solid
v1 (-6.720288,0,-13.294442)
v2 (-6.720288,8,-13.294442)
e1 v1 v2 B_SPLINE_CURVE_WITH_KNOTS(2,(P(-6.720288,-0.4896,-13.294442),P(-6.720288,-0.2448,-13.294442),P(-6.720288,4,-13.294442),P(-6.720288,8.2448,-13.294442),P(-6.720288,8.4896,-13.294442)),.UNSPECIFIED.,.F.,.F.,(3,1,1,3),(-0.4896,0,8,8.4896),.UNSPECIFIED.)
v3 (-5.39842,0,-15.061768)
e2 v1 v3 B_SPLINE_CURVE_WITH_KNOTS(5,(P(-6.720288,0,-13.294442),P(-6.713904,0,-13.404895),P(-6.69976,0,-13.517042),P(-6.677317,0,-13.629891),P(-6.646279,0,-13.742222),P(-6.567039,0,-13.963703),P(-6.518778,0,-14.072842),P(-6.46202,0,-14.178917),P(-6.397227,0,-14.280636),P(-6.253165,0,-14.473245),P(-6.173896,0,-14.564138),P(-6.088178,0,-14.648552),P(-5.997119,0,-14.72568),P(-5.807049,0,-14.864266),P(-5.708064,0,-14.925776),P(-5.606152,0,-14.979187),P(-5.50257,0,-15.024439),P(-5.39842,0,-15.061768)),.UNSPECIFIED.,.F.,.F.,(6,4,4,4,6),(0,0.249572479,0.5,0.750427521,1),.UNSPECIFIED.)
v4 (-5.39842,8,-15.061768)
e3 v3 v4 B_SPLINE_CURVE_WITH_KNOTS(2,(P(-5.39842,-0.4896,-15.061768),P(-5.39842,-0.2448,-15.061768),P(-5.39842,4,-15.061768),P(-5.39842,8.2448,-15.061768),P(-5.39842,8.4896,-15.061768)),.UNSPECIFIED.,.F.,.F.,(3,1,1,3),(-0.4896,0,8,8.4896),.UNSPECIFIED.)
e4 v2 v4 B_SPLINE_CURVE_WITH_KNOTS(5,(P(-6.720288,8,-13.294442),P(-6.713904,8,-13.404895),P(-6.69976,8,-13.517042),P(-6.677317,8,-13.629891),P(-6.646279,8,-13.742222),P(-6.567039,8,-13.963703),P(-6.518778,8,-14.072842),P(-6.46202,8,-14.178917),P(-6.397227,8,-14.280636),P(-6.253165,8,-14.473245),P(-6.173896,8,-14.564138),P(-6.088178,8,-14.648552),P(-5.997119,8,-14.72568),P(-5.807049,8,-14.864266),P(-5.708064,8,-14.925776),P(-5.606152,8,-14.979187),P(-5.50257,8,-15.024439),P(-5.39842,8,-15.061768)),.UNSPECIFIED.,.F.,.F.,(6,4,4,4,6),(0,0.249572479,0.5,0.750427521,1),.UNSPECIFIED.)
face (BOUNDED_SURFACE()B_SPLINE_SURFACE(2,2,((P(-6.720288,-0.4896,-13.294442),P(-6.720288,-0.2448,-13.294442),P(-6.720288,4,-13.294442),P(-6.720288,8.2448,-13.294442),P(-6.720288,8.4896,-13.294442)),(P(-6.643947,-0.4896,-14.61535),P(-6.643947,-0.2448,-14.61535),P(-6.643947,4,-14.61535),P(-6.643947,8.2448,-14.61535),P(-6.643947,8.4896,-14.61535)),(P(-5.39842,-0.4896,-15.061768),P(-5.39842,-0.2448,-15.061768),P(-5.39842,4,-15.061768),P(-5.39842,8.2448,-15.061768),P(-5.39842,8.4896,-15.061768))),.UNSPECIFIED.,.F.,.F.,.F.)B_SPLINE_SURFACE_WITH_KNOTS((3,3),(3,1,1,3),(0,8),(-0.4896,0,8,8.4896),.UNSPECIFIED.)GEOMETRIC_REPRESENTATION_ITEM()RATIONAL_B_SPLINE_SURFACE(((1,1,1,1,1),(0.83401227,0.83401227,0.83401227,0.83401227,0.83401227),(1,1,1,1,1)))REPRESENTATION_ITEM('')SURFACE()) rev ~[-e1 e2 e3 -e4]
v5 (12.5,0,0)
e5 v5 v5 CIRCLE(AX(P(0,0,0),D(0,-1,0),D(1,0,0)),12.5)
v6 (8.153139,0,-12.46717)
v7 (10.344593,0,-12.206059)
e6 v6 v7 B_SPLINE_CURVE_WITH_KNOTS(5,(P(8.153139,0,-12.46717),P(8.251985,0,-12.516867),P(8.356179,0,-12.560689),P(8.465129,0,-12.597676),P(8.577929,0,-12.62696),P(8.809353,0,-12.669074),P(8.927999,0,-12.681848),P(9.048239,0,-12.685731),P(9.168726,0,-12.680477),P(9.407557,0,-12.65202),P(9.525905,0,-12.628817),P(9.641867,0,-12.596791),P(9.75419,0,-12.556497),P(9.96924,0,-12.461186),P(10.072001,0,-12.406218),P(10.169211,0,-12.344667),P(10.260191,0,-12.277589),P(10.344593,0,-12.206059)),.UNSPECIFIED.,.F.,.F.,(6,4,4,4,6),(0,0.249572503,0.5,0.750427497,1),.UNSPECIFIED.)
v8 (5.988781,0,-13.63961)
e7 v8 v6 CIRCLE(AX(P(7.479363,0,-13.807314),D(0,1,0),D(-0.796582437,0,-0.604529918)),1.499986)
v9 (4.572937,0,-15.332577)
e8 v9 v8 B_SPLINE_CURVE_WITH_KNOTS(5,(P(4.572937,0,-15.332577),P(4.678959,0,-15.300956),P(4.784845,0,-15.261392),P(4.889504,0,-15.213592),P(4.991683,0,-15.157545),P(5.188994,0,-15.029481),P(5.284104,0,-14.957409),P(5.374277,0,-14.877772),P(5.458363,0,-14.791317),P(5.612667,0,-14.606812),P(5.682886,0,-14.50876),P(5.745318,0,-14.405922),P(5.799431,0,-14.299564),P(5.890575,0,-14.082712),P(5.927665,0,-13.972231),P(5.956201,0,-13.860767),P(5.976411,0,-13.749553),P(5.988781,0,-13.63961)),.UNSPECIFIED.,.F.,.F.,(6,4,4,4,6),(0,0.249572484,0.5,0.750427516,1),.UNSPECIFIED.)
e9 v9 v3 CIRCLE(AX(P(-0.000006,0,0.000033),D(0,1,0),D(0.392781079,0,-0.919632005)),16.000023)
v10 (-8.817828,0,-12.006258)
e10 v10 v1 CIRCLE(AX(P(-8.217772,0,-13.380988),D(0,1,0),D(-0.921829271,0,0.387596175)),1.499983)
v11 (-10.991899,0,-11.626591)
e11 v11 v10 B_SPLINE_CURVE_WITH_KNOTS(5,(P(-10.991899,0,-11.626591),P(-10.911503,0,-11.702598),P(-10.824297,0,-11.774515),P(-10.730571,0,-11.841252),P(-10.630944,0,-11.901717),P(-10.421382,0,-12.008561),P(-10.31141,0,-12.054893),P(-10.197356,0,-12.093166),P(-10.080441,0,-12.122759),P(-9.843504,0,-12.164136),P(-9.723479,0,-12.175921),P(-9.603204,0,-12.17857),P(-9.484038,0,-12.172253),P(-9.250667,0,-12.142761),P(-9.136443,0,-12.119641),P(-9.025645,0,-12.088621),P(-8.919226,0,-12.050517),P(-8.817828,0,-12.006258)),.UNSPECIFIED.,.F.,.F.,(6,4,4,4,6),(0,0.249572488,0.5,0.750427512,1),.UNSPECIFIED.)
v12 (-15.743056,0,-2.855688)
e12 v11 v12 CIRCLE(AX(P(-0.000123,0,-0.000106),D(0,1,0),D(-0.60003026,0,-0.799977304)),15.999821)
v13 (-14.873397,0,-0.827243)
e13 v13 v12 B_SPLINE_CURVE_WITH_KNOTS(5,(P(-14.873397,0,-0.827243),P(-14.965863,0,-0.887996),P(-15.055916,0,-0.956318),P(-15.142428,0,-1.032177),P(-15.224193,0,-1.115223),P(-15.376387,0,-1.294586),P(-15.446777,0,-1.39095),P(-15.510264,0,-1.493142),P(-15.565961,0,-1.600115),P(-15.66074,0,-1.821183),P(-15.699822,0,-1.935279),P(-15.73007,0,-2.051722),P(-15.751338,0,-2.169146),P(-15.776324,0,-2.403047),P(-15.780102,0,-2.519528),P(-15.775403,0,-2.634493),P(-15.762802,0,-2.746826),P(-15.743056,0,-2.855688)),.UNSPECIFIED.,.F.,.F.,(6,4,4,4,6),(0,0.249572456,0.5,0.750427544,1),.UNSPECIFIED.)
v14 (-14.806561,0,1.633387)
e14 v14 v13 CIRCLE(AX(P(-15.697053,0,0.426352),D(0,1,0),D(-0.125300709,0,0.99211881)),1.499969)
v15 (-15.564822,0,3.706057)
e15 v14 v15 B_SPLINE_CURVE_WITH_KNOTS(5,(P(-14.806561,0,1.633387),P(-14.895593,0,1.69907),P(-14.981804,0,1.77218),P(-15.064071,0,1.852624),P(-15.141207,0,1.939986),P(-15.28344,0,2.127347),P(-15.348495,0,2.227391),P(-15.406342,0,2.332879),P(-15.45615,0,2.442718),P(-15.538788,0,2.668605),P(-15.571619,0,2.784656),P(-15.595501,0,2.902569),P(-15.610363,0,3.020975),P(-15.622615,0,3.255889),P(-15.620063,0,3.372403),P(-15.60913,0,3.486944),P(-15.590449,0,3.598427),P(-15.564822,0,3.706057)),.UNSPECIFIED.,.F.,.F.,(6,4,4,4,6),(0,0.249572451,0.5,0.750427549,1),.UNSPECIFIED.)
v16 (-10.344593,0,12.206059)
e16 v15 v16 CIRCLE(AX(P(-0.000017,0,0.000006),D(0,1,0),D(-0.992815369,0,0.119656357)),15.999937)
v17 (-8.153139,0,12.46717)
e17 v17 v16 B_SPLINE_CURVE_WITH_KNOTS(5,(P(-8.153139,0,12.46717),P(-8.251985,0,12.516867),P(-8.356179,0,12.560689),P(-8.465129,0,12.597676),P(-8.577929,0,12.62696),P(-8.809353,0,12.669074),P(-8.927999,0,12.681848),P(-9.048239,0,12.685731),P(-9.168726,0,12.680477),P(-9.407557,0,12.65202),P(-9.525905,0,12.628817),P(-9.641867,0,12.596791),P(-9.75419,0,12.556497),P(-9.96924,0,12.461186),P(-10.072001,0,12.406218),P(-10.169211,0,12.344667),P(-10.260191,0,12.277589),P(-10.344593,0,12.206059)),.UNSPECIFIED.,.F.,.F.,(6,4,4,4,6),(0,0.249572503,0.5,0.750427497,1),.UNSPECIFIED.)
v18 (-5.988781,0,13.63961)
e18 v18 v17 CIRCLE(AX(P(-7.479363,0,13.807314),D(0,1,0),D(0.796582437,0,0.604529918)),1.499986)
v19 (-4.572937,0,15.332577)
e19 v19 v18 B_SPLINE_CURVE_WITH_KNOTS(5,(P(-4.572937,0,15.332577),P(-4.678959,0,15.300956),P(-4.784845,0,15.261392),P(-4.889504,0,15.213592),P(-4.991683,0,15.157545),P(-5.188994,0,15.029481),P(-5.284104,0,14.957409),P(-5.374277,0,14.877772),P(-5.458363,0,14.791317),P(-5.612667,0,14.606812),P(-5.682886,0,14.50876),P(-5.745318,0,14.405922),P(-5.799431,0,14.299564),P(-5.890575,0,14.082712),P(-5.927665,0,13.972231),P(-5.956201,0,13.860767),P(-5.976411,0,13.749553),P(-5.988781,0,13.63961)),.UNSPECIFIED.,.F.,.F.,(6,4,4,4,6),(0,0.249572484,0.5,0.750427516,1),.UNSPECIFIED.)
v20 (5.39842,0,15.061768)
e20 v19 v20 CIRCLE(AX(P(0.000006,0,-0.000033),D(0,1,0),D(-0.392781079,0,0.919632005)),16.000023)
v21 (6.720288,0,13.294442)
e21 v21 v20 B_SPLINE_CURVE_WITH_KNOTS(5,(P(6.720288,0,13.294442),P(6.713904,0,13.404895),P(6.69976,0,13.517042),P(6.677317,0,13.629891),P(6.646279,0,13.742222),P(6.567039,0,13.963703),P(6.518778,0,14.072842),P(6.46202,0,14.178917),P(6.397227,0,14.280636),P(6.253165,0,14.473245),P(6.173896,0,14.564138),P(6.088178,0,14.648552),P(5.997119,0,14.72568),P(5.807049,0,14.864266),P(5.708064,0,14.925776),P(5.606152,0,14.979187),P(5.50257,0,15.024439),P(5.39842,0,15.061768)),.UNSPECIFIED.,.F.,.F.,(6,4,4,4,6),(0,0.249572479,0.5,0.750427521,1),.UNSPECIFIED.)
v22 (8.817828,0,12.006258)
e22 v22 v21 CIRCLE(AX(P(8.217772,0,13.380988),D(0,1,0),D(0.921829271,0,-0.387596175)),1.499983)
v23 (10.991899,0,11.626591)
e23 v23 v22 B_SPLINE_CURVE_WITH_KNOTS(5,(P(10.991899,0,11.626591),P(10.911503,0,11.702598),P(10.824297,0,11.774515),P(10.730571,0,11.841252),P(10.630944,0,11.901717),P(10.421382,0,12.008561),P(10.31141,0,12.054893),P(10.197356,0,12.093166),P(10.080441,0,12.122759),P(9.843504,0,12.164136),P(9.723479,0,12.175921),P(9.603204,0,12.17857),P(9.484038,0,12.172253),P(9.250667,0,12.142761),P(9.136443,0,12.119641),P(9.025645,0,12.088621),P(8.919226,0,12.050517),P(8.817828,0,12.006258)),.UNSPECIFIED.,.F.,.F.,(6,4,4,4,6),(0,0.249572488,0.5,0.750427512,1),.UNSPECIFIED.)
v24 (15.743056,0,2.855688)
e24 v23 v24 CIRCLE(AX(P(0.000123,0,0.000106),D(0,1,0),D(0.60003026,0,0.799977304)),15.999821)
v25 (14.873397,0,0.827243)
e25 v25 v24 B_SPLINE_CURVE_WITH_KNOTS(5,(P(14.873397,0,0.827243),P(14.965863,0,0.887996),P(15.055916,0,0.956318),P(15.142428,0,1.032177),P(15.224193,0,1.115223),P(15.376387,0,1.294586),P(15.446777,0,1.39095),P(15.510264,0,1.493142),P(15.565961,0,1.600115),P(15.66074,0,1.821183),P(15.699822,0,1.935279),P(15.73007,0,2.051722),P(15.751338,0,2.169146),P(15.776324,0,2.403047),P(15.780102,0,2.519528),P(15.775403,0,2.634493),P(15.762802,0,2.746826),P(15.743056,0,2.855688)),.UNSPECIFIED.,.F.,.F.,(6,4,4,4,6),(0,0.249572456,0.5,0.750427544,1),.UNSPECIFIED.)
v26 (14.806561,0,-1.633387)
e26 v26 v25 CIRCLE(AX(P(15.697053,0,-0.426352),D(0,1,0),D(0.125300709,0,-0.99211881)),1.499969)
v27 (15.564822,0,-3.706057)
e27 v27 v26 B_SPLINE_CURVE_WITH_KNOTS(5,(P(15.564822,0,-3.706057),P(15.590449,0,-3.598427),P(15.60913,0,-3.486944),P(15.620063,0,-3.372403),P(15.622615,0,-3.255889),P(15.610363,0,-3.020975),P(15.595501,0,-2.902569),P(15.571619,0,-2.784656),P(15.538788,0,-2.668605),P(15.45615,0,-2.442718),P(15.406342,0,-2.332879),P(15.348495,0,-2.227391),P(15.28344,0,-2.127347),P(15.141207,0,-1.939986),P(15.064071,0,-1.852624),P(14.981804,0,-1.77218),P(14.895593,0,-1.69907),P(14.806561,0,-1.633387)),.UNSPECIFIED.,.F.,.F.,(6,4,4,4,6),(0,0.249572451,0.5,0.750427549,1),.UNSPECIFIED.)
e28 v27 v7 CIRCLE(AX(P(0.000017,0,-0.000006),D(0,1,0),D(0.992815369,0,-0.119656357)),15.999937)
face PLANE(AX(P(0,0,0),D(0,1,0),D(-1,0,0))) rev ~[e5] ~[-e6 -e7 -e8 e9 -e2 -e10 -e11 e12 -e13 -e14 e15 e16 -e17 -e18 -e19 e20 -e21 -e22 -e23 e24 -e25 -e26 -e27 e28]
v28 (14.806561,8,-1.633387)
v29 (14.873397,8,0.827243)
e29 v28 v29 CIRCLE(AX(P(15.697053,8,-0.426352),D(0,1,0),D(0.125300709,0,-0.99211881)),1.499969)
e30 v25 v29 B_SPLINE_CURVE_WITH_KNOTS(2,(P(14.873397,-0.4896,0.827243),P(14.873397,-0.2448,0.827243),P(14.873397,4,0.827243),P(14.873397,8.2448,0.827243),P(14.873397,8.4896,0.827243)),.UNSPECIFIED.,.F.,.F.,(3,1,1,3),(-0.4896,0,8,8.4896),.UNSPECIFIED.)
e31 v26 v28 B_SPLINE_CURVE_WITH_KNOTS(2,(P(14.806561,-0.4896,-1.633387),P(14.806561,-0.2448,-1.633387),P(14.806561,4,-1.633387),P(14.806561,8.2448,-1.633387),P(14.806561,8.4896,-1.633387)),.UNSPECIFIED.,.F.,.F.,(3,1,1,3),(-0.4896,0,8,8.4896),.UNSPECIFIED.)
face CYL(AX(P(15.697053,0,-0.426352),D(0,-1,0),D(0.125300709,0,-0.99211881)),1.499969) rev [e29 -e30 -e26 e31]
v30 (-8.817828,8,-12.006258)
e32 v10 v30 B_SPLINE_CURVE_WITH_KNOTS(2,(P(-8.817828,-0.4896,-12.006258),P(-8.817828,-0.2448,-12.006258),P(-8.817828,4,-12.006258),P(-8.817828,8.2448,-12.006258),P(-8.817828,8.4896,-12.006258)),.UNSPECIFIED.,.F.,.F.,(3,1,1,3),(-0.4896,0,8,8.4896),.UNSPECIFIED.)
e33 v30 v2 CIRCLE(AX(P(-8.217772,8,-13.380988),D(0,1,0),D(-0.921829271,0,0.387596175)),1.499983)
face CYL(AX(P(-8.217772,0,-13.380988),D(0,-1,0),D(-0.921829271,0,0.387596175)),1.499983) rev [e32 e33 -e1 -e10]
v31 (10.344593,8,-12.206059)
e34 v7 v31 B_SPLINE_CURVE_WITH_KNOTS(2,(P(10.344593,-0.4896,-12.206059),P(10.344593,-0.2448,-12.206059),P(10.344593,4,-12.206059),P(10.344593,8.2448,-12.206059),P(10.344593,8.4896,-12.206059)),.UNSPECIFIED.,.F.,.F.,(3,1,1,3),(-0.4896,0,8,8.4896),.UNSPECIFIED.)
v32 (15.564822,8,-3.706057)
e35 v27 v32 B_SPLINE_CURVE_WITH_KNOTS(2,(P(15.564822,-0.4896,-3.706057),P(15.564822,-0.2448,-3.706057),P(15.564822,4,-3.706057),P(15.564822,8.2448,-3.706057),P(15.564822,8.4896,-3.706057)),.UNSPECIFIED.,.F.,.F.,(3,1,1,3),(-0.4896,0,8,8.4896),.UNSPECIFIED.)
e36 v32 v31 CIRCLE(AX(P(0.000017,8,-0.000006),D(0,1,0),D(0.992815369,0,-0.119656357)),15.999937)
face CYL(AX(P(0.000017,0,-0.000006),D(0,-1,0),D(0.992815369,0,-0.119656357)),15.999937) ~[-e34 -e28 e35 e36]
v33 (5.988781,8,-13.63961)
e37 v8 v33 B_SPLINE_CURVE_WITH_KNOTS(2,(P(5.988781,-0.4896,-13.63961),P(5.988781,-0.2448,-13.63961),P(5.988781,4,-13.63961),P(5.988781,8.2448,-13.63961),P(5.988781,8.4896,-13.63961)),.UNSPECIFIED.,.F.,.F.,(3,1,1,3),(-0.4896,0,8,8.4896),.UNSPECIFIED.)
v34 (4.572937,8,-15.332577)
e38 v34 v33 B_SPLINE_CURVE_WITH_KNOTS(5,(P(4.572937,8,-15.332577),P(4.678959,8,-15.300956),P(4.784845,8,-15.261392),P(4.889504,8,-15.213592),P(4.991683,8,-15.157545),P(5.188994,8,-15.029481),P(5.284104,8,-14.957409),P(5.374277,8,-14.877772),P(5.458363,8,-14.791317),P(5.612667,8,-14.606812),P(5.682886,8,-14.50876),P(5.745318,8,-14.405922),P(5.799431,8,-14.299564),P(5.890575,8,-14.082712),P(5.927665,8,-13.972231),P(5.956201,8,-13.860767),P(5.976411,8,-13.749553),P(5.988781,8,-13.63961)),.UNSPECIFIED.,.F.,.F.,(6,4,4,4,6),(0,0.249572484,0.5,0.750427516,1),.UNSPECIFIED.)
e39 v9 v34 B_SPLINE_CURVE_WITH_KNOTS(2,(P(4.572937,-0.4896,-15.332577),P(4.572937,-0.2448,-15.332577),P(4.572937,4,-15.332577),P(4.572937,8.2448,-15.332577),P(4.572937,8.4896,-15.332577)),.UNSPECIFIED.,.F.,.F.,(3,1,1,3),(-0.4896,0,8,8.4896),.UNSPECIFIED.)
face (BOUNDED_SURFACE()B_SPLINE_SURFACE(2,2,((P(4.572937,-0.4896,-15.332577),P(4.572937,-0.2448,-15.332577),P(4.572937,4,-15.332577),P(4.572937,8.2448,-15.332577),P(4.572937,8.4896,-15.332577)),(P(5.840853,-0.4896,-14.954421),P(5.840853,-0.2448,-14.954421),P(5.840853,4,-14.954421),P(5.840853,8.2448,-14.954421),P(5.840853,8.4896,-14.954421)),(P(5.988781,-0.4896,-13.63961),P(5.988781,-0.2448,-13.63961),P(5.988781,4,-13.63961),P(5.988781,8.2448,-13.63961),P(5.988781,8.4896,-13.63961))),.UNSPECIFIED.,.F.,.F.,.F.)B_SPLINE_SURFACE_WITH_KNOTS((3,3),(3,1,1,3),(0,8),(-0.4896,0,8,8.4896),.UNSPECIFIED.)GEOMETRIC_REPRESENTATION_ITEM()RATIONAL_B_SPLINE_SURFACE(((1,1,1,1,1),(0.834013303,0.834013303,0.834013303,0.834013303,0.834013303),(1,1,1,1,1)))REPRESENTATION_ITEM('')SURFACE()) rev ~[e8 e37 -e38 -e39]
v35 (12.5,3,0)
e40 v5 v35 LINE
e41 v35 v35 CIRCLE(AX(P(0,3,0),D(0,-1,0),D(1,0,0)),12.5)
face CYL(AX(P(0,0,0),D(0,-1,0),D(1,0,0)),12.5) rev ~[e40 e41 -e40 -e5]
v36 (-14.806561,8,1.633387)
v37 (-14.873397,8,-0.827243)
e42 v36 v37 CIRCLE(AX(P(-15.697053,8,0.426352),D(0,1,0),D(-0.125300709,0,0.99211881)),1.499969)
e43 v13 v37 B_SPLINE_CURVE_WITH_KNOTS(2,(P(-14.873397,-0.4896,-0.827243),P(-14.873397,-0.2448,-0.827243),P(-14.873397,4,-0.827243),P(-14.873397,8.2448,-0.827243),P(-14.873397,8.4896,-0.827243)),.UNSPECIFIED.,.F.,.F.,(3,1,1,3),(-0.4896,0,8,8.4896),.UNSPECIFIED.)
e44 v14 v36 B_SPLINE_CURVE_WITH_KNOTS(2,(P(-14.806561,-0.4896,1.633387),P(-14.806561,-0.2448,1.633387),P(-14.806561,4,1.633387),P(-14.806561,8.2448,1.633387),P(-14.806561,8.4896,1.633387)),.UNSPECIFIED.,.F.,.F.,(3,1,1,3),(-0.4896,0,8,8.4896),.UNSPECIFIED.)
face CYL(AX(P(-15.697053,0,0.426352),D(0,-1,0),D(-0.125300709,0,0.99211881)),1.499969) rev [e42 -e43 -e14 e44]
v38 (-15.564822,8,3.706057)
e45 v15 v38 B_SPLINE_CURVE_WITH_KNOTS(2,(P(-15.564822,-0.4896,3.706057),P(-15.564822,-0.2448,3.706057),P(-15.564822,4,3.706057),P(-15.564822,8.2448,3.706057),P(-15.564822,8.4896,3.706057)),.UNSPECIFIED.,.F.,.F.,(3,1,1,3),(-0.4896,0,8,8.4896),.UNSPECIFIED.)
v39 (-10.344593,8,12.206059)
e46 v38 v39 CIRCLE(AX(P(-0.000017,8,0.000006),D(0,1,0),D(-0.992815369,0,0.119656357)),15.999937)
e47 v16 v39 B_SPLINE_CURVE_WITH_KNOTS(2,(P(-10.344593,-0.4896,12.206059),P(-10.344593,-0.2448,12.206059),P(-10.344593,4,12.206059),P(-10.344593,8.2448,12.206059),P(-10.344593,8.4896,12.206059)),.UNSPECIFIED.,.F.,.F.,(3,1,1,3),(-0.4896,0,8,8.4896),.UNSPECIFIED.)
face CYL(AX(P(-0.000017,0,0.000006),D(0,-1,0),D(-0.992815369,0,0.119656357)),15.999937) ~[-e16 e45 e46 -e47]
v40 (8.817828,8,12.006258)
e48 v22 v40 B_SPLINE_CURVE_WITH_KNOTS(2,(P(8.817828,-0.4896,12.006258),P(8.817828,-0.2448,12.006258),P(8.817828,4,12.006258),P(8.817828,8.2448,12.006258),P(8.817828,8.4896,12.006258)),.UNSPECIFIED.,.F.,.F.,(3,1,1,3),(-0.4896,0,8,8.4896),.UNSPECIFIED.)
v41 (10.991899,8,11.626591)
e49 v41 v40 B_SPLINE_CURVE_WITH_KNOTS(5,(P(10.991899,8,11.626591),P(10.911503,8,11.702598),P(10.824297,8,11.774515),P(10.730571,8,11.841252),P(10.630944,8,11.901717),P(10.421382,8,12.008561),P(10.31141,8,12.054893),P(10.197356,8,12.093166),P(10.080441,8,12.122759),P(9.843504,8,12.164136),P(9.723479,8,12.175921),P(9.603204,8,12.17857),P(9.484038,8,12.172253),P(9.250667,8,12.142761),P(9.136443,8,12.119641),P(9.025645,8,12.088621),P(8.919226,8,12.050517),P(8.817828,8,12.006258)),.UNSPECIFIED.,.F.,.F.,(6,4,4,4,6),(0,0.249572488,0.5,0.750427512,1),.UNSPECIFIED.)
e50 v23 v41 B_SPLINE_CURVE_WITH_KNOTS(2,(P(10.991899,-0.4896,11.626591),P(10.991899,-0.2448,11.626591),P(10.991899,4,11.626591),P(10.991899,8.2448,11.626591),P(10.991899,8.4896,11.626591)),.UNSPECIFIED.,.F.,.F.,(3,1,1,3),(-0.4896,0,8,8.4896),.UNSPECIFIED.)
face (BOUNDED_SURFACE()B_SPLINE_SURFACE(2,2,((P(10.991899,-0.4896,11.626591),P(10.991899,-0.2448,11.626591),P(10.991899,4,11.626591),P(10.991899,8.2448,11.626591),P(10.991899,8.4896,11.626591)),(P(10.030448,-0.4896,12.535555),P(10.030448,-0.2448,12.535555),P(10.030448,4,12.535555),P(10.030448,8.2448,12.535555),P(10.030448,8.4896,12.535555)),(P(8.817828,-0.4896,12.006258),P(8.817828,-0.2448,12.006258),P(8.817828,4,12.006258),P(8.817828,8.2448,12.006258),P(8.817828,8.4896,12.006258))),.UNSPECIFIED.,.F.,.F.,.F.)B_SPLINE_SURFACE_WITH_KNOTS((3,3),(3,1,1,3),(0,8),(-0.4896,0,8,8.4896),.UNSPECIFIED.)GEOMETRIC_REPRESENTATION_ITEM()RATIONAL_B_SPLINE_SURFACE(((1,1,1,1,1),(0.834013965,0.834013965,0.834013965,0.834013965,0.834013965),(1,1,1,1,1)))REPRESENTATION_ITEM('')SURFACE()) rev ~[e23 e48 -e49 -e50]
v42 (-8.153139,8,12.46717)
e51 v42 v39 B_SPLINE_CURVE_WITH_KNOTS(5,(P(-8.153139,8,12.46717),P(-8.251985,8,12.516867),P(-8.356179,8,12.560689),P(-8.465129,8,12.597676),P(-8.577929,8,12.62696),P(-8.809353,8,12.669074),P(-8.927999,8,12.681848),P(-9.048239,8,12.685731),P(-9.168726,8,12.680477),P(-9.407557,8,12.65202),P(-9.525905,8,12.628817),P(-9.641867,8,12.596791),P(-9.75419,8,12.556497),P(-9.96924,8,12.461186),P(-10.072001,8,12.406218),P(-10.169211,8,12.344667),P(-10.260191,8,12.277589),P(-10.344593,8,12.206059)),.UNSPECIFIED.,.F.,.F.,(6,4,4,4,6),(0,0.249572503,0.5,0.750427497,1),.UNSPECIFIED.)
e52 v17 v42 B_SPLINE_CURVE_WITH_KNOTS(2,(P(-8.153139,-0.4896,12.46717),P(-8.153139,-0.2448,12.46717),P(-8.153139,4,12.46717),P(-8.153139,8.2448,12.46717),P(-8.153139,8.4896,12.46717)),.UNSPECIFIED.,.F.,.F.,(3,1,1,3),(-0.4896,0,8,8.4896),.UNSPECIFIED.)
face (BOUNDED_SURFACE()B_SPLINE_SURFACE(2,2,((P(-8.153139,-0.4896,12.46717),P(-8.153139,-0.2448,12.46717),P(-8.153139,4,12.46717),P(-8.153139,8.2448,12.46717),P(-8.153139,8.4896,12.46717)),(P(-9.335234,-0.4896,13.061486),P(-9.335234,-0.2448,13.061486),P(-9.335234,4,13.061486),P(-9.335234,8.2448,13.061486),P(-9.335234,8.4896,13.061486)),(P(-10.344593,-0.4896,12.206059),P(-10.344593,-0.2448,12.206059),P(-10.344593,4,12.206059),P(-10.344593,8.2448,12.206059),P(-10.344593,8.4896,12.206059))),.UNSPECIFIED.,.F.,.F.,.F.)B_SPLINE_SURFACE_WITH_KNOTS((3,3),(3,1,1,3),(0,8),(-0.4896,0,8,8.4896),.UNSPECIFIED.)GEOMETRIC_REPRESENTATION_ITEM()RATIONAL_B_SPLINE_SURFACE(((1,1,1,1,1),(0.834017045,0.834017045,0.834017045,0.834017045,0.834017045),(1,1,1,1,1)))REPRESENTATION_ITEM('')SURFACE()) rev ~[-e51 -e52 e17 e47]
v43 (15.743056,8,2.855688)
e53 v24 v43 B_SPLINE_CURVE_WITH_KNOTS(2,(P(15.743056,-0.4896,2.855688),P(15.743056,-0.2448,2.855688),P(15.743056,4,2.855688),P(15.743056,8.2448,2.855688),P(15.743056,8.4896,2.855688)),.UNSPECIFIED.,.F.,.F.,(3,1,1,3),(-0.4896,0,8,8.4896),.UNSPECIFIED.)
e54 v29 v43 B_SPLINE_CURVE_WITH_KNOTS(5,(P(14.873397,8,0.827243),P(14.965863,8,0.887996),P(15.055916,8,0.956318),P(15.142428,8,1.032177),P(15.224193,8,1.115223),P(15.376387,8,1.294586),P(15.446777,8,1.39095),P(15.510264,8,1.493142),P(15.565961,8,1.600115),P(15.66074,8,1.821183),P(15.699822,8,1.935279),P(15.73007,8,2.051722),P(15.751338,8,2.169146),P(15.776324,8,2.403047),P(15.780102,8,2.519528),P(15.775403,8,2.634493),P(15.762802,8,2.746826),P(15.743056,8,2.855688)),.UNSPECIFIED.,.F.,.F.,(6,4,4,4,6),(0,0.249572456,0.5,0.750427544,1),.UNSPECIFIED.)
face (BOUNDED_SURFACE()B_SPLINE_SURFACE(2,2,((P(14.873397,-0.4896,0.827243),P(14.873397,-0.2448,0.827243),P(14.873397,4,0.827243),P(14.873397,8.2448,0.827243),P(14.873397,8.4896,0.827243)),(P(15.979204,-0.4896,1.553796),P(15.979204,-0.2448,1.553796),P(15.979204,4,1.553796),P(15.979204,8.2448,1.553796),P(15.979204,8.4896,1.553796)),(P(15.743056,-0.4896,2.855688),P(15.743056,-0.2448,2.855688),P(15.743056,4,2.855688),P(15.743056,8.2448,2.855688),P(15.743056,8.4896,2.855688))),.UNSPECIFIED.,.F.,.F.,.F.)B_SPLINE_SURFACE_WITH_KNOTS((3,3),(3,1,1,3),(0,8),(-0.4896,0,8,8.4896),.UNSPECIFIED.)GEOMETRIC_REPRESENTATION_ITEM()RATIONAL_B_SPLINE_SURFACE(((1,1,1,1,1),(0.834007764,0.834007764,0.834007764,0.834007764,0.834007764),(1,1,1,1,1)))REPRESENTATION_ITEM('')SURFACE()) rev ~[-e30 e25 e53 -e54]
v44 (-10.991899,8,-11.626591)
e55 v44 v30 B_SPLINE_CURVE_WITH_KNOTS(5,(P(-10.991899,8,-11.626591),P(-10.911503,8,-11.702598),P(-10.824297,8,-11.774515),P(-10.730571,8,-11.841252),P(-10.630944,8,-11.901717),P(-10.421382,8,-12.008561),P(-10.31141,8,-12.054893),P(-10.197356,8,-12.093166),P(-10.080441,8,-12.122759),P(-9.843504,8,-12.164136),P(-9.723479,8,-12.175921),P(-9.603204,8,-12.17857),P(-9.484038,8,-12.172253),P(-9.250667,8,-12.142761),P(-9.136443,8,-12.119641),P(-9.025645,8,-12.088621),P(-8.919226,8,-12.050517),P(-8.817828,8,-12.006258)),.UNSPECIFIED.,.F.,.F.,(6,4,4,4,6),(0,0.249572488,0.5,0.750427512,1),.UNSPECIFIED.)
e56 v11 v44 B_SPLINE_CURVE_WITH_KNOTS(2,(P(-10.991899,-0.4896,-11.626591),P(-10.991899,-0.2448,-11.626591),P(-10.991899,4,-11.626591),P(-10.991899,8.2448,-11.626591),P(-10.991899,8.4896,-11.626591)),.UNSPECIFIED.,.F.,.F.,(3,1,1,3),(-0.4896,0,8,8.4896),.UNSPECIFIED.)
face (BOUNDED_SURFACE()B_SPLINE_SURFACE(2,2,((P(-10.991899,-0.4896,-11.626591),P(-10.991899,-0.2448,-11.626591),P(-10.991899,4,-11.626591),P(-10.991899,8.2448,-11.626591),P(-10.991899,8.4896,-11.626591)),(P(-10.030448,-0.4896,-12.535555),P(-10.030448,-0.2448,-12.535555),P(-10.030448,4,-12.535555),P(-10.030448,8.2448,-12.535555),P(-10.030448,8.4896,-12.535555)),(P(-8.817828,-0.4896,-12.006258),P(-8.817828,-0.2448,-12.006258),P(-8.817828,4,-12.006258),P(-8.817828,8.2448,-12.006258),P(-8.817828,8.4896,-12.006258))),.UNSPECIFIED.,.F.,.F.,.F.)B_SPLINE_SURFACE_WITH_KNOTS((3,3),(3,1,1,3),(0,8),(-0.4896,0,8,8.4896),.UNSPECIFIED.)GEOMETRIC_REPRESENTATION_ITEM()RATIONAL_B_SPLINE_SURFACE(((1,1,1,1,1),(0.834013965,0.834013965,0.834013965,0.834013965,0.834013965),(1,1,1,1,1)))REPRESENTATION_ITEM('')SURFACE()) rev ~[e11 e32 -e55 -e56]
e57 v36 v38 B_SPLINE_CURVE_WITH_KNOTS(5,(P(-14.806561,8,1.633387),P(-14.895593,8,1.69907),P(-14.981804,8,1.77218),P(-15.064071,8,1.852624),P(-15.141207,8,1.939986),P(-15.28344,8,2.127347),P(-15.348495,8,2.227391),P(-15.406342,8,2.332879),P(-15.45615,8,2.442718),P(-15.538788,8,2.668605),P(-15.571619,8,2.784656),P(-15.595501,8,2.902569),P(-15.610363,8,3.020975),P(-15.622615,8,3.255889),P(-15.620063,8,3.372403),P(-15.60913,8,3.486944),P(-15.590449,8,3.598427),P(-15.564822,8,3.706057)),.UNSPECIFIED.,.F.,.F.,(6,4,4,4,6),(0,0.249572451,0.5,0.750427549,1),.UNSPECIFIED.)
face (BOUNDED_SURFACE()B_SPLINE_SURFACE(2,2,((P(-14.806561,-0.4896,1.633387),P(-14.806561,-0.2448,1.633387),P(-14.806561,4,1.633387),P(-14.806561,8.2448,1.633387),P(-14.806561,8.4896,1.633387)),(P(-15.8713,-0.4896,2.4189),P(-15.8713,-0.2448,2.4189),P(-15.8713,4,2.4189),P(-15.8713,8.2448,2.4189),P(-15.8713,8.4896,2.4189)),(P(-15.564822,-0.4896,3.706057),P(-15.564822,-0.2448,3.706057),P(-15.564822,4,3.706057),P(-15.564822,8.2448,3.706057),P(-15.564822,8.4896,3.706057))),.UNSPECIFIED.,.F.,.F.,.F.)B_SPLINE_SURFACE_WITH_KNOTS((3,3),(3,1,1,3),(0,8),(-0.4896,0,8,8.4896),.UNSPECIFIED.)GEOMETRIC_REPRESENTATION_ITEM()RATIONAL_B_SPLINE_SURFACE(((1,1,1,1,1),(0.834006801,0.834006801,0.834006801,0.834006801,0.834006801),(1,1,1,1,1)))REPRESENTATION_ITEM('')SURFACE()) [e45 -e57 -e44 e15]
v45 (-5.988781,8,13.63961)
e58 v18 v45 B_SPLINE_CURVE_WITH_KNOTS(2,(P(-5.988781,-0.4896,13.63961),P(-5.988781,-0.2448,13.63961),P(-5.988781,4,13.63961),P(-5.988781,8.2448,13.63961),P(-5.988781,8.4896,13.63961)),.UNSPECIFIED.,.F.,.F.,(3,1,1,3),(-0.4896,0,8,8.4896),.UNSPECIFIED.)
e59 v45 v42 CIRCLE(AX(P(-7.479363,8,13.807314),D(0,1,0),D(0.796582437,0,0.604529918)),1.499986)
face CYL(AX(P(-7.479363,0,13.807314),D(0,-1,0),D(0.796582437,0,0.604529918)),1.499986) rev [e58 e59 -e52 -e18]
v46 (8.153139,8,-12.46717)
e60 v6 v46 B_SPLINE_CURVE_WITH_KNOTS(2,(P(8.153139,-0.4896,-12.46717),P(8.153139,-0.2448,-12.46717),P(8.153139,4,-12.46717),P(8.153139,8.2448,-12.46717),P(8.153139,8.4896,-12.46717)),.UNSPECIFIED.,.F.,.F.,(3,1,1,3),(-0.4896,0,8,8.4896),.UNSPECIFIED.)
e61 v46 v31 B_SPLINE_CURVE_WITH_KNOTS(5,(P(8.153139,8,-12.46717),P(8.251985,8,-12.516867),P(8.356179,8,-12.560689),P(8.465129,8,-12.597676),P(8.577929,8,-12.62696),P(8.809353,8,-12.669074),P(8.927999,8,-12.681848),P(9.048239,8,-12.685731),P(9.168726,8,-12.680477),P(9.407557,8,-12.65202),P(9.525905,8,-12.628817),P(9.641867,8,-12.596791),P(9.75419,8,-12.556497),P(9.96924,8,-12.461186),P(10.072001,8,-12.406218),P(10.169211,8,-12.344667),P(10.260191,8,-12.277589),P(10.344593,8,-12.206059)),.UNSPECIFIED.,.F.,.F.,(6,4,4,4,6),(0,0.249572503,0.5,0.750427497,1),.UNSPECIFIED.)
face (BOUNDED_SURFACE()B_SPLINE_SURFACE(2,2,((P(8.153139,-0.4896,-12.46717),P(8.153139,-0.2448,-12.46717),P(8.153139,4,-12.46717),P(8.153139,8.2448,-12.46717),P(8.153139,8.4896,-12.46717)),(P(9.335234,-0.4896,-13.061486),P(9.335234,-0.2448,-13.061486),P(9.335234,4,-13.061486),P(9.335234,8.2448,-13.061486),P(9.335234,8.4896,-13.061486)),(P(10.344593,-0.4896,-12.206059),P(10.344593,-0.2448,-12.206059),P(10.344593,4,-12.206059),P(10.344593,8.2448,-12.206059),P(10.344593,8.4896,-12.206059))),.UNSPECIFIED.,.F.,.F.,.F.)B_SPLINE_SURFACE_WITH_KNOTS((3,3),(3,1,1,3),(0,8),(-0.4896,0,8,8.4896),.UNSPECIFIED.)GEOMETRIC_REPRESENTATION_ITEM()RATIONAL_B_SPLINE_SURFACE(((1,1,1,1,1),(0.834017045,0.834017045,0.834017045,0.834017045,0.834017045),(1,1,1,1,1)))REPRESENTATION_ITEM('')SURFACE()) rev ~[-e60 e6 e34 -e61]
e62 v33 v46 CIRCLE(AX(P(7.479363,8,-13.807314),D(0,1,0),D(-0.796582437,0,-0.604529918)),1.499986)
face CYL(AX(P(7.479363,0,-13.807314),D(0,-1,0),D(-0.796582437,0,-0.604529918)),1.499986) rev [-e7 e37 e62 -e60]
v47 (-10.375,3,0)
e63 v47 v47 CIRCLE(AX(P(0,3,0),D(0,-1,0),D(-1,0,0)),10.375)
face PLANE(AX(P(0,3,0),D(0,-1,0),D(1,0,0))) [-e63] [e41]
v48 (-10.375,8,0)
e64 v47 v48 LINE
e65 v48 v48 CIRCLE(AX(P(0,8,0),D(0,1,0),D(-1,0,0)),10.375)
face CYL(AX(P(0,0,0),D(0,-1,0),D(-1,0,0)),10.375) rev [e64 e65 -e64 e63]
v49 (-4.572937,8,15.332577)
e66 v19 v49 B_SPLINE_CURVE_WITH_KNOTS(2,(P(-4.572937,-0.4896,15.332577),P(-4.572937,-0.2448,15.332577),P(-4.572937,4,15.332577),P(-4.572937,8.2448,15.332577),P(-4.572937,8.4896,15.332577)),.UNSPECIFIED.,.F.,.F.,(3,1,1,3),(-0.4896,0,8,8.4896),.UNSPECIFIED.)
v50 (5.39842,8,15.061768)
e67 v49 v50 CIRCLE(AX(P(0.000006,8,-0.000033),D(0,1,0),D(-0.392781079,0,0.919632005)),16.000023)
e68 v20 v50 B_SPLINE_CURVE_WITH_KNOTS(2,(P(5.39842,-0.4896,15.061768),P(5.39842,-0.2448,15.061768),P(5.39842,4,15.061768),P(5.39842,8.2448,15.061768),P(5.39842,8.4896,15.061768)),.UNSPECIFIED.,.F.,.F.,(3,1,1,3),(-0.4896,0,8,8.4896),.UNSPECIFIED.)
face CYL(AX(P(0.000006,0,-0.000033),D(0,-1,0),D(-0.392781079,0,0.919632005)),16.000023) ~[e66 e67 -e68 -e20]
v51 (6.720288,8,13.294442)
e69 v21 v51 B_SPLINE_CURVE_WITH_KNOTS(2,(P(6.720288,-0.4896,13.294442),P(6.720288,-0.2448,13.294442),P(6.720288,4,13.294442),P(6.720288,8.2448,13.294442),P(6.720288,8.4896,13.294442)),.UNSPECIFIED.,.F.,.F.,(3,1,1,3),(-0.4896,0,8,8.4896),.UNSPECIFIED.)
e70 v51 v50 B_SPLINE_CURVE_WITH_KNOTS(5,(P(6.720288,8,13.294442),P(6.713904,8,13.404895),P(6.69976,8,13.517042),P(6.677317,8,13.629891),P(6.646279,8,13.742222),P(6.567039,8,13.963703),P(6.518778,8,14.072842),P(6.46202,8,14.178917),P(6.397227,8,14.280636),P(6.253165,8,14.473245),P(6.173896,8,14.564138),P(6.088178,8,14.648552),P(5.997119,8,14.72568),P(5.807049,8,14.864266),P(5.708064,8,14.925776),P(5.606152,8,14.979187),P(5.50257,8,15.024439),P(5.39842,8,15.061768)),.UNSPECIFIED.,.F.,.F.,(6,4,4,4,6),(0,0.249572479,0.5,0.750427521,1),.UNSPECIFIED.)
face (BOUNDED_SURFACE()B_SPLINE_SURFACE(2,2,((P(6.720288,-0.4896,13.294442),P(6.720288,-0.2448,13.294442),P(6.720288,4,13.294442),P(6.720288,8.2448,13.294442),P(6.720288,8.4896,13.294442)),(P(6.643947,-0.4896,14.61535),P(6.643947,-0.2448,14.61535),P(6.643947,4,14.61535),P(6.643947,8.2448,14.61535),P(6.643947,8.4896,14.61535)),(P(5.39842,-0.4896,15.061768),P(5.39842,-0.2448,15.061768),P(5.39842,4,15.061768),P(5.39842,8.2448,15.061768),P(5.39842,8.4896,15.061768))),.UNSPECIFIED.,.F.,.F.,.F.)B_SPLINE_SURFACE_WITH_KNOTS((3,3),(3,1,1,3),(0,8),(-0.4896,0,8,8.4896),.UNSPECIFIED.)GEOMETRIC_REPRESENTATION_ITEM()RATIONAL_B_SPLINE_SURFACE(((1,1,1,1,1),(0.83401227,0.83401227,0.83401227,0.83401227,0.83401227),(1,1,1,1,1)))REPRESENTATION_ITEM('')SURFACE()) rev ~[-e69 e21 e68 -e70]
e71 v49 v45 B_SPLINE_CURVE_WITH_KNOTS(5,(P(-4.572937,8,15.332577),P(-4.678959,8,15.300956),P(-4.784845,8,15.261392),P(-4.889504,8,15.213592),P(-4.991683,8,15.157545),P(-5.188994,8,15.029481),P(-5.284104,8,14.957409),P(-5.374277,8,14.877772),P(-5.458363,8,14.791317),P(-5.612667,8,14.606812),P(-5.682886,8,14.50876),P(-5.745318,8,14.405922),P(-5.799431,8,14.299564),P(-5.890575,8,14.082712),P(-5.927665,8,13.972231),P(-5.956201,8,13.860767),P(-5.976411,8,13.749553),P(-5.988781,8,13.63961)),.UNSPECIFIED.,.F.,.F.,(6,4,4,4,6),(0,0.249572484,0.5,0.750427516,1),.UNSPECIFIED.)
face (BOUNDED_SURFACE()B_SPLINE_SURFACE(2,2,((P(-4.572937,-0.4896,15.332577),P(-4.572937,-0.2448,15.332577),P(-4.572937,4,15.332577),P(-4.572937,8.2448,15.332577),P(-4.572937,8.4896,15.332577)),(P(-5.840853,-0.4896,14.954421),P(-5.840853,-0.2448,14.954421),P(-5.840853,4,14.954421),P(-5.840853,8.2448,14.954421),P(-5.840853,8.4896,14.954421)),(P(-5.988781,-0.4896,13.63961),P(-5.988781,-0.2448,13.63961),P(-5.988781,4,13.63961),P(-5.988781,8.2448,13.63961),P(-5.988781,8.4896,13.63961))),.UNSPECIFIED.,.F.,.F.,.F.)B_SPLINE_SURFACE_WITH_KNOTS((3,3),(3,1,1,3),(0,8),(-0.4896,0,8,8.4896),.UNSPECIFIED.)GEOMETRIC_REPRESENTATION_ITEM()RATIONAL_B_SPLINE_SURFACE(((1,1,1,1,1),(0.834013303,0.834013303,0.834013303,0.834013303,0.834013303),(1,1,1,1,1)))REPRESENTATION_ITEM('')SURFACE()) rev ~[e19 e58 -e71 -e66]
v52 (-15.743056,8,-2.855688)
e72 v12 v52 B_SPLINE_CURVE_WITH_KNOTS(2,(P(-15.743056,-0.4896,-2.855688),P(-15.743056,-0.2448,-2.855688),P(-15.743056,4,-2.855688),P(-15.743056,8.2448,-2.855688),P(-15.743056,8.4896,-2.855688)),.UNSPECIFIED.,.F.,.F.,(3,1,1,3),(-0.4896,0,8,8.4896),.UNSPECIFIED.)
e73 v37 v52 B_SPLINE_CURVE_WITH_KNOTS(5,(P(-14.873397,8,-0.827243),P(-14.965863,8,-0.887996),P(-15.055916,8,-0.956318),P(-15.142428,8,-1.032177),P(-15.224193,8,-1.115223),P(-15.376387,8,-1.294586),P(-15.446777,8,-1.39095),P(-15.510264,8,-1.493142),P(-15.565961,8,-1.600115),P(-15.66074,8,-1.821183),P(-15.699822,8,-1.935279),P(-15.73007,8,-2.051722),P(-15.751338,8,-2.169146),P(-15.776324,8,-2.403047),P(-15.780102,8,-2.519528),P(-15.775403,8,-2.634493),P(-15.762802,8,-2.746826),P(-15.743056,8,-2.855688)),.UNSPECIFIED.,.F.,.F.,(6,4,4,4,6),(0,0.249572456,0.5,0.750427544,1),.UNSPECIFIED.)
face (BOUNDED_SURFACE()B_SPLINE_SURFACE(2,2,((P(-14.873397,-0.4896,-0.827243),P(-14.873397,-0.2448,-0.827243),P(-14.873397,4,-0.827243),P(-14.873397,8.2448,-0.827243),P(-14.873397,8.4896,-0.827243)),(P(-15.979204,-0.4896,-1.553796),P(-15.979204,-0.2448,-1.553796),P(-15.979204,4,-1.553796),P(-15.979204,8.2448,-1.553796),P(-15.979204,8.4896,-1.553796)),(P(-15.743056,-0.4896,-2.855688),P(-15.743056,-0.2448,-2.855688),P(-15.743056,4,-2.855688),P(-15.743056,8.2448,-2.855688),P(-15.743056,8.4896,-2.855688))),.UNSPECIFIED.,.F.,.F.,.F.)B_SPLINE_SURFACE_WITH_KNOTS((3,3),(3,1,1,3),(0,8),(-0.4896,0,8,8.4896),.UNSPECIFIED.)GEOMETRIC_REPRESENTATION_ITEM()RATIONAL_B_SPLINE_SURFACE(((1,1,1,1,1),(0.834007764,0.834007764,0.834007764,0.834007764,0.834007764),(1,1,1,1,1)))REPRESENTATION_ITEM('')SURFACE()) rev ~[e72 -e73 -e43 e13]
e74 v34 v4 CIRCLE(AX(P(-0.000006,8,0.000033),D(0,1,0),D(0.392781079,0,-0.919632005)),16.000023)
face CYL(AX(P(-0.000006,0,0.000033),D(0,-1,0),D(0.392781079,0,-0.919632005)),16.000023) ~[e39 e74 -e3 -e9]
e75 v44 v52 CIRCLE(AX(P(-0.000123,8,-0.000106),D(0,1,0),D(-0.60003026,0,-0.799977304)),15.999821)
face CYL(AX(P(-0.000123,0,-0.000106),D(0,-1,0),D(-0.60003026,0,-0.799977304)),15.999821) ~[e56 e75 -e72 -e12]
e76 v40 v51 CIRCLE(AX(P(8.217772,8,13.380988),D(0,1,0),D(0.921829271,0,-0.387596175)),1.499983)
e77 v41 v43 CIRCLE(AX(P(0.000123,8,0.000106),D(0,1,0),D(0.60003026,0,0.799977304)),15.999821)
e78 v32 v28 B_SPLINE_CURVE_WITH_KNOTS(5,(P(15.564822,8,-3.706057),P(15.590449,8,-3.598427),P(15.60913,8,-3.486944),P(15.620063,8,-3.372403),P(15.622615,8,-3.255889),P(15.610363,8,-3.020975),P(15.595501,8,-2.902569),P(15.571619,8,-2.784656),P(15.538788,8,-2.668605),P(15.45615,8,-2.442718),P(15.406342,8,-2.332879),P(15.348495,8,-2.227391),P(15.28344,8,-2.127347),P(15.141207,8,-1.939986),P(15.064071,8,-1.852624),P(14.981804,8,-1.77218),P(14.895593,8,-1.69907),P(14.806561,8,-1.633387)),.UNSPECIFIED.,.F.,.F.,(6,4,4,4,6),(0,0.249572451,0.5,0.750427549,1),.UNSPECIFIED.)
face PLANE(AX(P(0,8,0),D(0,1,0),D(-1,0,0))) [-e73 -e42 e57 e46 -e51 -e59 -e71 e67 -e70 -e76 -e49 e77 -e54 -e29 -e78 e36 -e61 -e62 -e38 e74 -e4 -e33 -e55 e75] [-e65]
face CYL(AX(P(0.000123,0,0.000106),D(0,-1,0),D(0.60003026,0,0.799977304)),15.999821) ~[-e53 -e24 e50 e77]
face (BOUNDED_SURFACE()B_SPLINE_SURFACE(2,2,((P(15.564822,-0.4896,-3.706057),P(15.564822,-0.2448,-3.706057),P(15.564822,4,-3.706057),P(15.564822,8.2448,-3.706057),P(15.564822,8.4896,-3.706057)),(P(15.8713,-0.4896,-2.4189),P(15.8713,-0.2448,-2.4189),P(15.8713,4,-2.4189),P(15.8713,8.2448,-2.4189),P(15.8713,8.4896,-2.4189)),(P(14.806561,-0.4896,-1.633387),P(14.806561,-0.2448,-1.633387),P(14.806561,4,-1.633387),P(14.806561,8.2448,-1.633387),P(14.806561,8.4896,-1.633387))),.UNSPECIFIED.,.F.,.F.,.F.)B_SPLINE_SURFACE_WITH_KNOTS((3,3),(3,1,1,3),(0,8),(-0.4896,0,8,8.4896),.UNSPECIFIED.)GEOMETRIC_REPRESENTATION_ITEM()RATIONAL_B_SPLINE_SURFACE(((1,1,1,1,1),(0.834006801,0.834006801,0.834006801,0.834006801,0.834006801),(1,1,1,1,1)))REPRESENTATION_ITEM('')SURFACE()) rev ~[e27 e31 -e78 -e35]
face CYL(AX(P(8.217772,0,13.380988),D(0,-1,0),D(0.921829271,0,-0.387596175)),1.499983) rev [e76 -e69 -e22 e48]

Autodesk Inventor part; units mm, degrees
ref_plane "YZ Plane" through (0, 0, 0) normal (1, 0, 0) x (0, 1, 0)
ref_plane "XZ Plane" through (0, 0, 0) normal (0, 1, 0) x (-1, 0, 0)
ref_plane "XY Plane" through (0, 0, 0) normal (0, 0, 1) x (1, 0, 0)
sketch "Sketch1" plane through (0, 0, 0) normal (0, 1, 0) x (-1, 0, 0)
  circle A0 centre (0, 0) radius 10.375
  arc A1 (15.885, 1.9145) -> (15.9655, -1.0494) centre (15.6971, 0.4263) ccw
  arc A2 (6.2845, 14.7141) -> (8.8916, 13.3018) centre (7.4793, 13.8073) ccw
  arc A3 (-9.6005, 12.7996) -> (-7.0739, 14.3513) centre (-8.2178, 13.3809) ccw
  arc A4 (-15.885, -1.9145) -> (-15.9655, 1.0494) centre (-15.6971, -0.4263) ccw
  arc A5 (-6.2845, -14.7141) -> (-8.8916, -13.3018) centre (-7.4793, -13.8073) ccw
  arc A6 (9.6005, -12.7996) -> (7.0739, -14.3513) centre (8.2178, -13.3809) ccw
  arc A7 (9.6005, -12.7996) -> (15.9655, -1.0494) centre (0, 0) ccw
  arc A8 (-6.2845, -14.7141) -> (7.0739, -14.3513) centre (0, 0) ccw
  arc A9 (-15.885, -1.9145) -> (-8.8916, -13.3018) centre (0, 0) ccw
  arc A10 (-9.6005, 12.7996) -> (-15.9655, 1.0494) centre (0, 0) ccw
  arc A11 (15.885, 1.9145) -> (8.8916, 13.3018) centre (0, 0) ccw
  arc A12 (6.2845, 14.7141) -> (-7.0739, 14.3513) centre (0, 0) ccw
  dimension "d0" = 20.75
  dimension "d4" = 3
  dimension "d7" = 360
  dimension "d10" = 16
extrude "Extrusion1" add sketch "Sketch1" along normal blind 8
fillet "Fillet1" radius 2 12 edges at (9.6005, 4, 12.7996) (15.9655, 4, 1.0494) (15.885, 4, -1.9145) (8.8916, 4, -13.3018) (6.2845, 4, -14.7141) (-7.0739, 4, -14.3513) (-9.6005, 4, -12.7996) (-15.9655, 4, -1.0494) (-15.885, 4, 1.9145) (-8.8916, 4, 13.3018) (-6.2845, 4, 14.7141) (7.0739, 4, 14.3513)
sketch "Sketch2" plane through (0, 0, 0) normal (0, -1, 0) x (1, 0, 0)
  circle A0 centre (0, 0) radius 10.375 projected
  circle A1 centre (0, 0) radius 12.5
  dimension "d11" = 25
extrude "Extrusion2" cut sketch "Sketch2" against normal blind 3
properties part number "springSpacerV1"
